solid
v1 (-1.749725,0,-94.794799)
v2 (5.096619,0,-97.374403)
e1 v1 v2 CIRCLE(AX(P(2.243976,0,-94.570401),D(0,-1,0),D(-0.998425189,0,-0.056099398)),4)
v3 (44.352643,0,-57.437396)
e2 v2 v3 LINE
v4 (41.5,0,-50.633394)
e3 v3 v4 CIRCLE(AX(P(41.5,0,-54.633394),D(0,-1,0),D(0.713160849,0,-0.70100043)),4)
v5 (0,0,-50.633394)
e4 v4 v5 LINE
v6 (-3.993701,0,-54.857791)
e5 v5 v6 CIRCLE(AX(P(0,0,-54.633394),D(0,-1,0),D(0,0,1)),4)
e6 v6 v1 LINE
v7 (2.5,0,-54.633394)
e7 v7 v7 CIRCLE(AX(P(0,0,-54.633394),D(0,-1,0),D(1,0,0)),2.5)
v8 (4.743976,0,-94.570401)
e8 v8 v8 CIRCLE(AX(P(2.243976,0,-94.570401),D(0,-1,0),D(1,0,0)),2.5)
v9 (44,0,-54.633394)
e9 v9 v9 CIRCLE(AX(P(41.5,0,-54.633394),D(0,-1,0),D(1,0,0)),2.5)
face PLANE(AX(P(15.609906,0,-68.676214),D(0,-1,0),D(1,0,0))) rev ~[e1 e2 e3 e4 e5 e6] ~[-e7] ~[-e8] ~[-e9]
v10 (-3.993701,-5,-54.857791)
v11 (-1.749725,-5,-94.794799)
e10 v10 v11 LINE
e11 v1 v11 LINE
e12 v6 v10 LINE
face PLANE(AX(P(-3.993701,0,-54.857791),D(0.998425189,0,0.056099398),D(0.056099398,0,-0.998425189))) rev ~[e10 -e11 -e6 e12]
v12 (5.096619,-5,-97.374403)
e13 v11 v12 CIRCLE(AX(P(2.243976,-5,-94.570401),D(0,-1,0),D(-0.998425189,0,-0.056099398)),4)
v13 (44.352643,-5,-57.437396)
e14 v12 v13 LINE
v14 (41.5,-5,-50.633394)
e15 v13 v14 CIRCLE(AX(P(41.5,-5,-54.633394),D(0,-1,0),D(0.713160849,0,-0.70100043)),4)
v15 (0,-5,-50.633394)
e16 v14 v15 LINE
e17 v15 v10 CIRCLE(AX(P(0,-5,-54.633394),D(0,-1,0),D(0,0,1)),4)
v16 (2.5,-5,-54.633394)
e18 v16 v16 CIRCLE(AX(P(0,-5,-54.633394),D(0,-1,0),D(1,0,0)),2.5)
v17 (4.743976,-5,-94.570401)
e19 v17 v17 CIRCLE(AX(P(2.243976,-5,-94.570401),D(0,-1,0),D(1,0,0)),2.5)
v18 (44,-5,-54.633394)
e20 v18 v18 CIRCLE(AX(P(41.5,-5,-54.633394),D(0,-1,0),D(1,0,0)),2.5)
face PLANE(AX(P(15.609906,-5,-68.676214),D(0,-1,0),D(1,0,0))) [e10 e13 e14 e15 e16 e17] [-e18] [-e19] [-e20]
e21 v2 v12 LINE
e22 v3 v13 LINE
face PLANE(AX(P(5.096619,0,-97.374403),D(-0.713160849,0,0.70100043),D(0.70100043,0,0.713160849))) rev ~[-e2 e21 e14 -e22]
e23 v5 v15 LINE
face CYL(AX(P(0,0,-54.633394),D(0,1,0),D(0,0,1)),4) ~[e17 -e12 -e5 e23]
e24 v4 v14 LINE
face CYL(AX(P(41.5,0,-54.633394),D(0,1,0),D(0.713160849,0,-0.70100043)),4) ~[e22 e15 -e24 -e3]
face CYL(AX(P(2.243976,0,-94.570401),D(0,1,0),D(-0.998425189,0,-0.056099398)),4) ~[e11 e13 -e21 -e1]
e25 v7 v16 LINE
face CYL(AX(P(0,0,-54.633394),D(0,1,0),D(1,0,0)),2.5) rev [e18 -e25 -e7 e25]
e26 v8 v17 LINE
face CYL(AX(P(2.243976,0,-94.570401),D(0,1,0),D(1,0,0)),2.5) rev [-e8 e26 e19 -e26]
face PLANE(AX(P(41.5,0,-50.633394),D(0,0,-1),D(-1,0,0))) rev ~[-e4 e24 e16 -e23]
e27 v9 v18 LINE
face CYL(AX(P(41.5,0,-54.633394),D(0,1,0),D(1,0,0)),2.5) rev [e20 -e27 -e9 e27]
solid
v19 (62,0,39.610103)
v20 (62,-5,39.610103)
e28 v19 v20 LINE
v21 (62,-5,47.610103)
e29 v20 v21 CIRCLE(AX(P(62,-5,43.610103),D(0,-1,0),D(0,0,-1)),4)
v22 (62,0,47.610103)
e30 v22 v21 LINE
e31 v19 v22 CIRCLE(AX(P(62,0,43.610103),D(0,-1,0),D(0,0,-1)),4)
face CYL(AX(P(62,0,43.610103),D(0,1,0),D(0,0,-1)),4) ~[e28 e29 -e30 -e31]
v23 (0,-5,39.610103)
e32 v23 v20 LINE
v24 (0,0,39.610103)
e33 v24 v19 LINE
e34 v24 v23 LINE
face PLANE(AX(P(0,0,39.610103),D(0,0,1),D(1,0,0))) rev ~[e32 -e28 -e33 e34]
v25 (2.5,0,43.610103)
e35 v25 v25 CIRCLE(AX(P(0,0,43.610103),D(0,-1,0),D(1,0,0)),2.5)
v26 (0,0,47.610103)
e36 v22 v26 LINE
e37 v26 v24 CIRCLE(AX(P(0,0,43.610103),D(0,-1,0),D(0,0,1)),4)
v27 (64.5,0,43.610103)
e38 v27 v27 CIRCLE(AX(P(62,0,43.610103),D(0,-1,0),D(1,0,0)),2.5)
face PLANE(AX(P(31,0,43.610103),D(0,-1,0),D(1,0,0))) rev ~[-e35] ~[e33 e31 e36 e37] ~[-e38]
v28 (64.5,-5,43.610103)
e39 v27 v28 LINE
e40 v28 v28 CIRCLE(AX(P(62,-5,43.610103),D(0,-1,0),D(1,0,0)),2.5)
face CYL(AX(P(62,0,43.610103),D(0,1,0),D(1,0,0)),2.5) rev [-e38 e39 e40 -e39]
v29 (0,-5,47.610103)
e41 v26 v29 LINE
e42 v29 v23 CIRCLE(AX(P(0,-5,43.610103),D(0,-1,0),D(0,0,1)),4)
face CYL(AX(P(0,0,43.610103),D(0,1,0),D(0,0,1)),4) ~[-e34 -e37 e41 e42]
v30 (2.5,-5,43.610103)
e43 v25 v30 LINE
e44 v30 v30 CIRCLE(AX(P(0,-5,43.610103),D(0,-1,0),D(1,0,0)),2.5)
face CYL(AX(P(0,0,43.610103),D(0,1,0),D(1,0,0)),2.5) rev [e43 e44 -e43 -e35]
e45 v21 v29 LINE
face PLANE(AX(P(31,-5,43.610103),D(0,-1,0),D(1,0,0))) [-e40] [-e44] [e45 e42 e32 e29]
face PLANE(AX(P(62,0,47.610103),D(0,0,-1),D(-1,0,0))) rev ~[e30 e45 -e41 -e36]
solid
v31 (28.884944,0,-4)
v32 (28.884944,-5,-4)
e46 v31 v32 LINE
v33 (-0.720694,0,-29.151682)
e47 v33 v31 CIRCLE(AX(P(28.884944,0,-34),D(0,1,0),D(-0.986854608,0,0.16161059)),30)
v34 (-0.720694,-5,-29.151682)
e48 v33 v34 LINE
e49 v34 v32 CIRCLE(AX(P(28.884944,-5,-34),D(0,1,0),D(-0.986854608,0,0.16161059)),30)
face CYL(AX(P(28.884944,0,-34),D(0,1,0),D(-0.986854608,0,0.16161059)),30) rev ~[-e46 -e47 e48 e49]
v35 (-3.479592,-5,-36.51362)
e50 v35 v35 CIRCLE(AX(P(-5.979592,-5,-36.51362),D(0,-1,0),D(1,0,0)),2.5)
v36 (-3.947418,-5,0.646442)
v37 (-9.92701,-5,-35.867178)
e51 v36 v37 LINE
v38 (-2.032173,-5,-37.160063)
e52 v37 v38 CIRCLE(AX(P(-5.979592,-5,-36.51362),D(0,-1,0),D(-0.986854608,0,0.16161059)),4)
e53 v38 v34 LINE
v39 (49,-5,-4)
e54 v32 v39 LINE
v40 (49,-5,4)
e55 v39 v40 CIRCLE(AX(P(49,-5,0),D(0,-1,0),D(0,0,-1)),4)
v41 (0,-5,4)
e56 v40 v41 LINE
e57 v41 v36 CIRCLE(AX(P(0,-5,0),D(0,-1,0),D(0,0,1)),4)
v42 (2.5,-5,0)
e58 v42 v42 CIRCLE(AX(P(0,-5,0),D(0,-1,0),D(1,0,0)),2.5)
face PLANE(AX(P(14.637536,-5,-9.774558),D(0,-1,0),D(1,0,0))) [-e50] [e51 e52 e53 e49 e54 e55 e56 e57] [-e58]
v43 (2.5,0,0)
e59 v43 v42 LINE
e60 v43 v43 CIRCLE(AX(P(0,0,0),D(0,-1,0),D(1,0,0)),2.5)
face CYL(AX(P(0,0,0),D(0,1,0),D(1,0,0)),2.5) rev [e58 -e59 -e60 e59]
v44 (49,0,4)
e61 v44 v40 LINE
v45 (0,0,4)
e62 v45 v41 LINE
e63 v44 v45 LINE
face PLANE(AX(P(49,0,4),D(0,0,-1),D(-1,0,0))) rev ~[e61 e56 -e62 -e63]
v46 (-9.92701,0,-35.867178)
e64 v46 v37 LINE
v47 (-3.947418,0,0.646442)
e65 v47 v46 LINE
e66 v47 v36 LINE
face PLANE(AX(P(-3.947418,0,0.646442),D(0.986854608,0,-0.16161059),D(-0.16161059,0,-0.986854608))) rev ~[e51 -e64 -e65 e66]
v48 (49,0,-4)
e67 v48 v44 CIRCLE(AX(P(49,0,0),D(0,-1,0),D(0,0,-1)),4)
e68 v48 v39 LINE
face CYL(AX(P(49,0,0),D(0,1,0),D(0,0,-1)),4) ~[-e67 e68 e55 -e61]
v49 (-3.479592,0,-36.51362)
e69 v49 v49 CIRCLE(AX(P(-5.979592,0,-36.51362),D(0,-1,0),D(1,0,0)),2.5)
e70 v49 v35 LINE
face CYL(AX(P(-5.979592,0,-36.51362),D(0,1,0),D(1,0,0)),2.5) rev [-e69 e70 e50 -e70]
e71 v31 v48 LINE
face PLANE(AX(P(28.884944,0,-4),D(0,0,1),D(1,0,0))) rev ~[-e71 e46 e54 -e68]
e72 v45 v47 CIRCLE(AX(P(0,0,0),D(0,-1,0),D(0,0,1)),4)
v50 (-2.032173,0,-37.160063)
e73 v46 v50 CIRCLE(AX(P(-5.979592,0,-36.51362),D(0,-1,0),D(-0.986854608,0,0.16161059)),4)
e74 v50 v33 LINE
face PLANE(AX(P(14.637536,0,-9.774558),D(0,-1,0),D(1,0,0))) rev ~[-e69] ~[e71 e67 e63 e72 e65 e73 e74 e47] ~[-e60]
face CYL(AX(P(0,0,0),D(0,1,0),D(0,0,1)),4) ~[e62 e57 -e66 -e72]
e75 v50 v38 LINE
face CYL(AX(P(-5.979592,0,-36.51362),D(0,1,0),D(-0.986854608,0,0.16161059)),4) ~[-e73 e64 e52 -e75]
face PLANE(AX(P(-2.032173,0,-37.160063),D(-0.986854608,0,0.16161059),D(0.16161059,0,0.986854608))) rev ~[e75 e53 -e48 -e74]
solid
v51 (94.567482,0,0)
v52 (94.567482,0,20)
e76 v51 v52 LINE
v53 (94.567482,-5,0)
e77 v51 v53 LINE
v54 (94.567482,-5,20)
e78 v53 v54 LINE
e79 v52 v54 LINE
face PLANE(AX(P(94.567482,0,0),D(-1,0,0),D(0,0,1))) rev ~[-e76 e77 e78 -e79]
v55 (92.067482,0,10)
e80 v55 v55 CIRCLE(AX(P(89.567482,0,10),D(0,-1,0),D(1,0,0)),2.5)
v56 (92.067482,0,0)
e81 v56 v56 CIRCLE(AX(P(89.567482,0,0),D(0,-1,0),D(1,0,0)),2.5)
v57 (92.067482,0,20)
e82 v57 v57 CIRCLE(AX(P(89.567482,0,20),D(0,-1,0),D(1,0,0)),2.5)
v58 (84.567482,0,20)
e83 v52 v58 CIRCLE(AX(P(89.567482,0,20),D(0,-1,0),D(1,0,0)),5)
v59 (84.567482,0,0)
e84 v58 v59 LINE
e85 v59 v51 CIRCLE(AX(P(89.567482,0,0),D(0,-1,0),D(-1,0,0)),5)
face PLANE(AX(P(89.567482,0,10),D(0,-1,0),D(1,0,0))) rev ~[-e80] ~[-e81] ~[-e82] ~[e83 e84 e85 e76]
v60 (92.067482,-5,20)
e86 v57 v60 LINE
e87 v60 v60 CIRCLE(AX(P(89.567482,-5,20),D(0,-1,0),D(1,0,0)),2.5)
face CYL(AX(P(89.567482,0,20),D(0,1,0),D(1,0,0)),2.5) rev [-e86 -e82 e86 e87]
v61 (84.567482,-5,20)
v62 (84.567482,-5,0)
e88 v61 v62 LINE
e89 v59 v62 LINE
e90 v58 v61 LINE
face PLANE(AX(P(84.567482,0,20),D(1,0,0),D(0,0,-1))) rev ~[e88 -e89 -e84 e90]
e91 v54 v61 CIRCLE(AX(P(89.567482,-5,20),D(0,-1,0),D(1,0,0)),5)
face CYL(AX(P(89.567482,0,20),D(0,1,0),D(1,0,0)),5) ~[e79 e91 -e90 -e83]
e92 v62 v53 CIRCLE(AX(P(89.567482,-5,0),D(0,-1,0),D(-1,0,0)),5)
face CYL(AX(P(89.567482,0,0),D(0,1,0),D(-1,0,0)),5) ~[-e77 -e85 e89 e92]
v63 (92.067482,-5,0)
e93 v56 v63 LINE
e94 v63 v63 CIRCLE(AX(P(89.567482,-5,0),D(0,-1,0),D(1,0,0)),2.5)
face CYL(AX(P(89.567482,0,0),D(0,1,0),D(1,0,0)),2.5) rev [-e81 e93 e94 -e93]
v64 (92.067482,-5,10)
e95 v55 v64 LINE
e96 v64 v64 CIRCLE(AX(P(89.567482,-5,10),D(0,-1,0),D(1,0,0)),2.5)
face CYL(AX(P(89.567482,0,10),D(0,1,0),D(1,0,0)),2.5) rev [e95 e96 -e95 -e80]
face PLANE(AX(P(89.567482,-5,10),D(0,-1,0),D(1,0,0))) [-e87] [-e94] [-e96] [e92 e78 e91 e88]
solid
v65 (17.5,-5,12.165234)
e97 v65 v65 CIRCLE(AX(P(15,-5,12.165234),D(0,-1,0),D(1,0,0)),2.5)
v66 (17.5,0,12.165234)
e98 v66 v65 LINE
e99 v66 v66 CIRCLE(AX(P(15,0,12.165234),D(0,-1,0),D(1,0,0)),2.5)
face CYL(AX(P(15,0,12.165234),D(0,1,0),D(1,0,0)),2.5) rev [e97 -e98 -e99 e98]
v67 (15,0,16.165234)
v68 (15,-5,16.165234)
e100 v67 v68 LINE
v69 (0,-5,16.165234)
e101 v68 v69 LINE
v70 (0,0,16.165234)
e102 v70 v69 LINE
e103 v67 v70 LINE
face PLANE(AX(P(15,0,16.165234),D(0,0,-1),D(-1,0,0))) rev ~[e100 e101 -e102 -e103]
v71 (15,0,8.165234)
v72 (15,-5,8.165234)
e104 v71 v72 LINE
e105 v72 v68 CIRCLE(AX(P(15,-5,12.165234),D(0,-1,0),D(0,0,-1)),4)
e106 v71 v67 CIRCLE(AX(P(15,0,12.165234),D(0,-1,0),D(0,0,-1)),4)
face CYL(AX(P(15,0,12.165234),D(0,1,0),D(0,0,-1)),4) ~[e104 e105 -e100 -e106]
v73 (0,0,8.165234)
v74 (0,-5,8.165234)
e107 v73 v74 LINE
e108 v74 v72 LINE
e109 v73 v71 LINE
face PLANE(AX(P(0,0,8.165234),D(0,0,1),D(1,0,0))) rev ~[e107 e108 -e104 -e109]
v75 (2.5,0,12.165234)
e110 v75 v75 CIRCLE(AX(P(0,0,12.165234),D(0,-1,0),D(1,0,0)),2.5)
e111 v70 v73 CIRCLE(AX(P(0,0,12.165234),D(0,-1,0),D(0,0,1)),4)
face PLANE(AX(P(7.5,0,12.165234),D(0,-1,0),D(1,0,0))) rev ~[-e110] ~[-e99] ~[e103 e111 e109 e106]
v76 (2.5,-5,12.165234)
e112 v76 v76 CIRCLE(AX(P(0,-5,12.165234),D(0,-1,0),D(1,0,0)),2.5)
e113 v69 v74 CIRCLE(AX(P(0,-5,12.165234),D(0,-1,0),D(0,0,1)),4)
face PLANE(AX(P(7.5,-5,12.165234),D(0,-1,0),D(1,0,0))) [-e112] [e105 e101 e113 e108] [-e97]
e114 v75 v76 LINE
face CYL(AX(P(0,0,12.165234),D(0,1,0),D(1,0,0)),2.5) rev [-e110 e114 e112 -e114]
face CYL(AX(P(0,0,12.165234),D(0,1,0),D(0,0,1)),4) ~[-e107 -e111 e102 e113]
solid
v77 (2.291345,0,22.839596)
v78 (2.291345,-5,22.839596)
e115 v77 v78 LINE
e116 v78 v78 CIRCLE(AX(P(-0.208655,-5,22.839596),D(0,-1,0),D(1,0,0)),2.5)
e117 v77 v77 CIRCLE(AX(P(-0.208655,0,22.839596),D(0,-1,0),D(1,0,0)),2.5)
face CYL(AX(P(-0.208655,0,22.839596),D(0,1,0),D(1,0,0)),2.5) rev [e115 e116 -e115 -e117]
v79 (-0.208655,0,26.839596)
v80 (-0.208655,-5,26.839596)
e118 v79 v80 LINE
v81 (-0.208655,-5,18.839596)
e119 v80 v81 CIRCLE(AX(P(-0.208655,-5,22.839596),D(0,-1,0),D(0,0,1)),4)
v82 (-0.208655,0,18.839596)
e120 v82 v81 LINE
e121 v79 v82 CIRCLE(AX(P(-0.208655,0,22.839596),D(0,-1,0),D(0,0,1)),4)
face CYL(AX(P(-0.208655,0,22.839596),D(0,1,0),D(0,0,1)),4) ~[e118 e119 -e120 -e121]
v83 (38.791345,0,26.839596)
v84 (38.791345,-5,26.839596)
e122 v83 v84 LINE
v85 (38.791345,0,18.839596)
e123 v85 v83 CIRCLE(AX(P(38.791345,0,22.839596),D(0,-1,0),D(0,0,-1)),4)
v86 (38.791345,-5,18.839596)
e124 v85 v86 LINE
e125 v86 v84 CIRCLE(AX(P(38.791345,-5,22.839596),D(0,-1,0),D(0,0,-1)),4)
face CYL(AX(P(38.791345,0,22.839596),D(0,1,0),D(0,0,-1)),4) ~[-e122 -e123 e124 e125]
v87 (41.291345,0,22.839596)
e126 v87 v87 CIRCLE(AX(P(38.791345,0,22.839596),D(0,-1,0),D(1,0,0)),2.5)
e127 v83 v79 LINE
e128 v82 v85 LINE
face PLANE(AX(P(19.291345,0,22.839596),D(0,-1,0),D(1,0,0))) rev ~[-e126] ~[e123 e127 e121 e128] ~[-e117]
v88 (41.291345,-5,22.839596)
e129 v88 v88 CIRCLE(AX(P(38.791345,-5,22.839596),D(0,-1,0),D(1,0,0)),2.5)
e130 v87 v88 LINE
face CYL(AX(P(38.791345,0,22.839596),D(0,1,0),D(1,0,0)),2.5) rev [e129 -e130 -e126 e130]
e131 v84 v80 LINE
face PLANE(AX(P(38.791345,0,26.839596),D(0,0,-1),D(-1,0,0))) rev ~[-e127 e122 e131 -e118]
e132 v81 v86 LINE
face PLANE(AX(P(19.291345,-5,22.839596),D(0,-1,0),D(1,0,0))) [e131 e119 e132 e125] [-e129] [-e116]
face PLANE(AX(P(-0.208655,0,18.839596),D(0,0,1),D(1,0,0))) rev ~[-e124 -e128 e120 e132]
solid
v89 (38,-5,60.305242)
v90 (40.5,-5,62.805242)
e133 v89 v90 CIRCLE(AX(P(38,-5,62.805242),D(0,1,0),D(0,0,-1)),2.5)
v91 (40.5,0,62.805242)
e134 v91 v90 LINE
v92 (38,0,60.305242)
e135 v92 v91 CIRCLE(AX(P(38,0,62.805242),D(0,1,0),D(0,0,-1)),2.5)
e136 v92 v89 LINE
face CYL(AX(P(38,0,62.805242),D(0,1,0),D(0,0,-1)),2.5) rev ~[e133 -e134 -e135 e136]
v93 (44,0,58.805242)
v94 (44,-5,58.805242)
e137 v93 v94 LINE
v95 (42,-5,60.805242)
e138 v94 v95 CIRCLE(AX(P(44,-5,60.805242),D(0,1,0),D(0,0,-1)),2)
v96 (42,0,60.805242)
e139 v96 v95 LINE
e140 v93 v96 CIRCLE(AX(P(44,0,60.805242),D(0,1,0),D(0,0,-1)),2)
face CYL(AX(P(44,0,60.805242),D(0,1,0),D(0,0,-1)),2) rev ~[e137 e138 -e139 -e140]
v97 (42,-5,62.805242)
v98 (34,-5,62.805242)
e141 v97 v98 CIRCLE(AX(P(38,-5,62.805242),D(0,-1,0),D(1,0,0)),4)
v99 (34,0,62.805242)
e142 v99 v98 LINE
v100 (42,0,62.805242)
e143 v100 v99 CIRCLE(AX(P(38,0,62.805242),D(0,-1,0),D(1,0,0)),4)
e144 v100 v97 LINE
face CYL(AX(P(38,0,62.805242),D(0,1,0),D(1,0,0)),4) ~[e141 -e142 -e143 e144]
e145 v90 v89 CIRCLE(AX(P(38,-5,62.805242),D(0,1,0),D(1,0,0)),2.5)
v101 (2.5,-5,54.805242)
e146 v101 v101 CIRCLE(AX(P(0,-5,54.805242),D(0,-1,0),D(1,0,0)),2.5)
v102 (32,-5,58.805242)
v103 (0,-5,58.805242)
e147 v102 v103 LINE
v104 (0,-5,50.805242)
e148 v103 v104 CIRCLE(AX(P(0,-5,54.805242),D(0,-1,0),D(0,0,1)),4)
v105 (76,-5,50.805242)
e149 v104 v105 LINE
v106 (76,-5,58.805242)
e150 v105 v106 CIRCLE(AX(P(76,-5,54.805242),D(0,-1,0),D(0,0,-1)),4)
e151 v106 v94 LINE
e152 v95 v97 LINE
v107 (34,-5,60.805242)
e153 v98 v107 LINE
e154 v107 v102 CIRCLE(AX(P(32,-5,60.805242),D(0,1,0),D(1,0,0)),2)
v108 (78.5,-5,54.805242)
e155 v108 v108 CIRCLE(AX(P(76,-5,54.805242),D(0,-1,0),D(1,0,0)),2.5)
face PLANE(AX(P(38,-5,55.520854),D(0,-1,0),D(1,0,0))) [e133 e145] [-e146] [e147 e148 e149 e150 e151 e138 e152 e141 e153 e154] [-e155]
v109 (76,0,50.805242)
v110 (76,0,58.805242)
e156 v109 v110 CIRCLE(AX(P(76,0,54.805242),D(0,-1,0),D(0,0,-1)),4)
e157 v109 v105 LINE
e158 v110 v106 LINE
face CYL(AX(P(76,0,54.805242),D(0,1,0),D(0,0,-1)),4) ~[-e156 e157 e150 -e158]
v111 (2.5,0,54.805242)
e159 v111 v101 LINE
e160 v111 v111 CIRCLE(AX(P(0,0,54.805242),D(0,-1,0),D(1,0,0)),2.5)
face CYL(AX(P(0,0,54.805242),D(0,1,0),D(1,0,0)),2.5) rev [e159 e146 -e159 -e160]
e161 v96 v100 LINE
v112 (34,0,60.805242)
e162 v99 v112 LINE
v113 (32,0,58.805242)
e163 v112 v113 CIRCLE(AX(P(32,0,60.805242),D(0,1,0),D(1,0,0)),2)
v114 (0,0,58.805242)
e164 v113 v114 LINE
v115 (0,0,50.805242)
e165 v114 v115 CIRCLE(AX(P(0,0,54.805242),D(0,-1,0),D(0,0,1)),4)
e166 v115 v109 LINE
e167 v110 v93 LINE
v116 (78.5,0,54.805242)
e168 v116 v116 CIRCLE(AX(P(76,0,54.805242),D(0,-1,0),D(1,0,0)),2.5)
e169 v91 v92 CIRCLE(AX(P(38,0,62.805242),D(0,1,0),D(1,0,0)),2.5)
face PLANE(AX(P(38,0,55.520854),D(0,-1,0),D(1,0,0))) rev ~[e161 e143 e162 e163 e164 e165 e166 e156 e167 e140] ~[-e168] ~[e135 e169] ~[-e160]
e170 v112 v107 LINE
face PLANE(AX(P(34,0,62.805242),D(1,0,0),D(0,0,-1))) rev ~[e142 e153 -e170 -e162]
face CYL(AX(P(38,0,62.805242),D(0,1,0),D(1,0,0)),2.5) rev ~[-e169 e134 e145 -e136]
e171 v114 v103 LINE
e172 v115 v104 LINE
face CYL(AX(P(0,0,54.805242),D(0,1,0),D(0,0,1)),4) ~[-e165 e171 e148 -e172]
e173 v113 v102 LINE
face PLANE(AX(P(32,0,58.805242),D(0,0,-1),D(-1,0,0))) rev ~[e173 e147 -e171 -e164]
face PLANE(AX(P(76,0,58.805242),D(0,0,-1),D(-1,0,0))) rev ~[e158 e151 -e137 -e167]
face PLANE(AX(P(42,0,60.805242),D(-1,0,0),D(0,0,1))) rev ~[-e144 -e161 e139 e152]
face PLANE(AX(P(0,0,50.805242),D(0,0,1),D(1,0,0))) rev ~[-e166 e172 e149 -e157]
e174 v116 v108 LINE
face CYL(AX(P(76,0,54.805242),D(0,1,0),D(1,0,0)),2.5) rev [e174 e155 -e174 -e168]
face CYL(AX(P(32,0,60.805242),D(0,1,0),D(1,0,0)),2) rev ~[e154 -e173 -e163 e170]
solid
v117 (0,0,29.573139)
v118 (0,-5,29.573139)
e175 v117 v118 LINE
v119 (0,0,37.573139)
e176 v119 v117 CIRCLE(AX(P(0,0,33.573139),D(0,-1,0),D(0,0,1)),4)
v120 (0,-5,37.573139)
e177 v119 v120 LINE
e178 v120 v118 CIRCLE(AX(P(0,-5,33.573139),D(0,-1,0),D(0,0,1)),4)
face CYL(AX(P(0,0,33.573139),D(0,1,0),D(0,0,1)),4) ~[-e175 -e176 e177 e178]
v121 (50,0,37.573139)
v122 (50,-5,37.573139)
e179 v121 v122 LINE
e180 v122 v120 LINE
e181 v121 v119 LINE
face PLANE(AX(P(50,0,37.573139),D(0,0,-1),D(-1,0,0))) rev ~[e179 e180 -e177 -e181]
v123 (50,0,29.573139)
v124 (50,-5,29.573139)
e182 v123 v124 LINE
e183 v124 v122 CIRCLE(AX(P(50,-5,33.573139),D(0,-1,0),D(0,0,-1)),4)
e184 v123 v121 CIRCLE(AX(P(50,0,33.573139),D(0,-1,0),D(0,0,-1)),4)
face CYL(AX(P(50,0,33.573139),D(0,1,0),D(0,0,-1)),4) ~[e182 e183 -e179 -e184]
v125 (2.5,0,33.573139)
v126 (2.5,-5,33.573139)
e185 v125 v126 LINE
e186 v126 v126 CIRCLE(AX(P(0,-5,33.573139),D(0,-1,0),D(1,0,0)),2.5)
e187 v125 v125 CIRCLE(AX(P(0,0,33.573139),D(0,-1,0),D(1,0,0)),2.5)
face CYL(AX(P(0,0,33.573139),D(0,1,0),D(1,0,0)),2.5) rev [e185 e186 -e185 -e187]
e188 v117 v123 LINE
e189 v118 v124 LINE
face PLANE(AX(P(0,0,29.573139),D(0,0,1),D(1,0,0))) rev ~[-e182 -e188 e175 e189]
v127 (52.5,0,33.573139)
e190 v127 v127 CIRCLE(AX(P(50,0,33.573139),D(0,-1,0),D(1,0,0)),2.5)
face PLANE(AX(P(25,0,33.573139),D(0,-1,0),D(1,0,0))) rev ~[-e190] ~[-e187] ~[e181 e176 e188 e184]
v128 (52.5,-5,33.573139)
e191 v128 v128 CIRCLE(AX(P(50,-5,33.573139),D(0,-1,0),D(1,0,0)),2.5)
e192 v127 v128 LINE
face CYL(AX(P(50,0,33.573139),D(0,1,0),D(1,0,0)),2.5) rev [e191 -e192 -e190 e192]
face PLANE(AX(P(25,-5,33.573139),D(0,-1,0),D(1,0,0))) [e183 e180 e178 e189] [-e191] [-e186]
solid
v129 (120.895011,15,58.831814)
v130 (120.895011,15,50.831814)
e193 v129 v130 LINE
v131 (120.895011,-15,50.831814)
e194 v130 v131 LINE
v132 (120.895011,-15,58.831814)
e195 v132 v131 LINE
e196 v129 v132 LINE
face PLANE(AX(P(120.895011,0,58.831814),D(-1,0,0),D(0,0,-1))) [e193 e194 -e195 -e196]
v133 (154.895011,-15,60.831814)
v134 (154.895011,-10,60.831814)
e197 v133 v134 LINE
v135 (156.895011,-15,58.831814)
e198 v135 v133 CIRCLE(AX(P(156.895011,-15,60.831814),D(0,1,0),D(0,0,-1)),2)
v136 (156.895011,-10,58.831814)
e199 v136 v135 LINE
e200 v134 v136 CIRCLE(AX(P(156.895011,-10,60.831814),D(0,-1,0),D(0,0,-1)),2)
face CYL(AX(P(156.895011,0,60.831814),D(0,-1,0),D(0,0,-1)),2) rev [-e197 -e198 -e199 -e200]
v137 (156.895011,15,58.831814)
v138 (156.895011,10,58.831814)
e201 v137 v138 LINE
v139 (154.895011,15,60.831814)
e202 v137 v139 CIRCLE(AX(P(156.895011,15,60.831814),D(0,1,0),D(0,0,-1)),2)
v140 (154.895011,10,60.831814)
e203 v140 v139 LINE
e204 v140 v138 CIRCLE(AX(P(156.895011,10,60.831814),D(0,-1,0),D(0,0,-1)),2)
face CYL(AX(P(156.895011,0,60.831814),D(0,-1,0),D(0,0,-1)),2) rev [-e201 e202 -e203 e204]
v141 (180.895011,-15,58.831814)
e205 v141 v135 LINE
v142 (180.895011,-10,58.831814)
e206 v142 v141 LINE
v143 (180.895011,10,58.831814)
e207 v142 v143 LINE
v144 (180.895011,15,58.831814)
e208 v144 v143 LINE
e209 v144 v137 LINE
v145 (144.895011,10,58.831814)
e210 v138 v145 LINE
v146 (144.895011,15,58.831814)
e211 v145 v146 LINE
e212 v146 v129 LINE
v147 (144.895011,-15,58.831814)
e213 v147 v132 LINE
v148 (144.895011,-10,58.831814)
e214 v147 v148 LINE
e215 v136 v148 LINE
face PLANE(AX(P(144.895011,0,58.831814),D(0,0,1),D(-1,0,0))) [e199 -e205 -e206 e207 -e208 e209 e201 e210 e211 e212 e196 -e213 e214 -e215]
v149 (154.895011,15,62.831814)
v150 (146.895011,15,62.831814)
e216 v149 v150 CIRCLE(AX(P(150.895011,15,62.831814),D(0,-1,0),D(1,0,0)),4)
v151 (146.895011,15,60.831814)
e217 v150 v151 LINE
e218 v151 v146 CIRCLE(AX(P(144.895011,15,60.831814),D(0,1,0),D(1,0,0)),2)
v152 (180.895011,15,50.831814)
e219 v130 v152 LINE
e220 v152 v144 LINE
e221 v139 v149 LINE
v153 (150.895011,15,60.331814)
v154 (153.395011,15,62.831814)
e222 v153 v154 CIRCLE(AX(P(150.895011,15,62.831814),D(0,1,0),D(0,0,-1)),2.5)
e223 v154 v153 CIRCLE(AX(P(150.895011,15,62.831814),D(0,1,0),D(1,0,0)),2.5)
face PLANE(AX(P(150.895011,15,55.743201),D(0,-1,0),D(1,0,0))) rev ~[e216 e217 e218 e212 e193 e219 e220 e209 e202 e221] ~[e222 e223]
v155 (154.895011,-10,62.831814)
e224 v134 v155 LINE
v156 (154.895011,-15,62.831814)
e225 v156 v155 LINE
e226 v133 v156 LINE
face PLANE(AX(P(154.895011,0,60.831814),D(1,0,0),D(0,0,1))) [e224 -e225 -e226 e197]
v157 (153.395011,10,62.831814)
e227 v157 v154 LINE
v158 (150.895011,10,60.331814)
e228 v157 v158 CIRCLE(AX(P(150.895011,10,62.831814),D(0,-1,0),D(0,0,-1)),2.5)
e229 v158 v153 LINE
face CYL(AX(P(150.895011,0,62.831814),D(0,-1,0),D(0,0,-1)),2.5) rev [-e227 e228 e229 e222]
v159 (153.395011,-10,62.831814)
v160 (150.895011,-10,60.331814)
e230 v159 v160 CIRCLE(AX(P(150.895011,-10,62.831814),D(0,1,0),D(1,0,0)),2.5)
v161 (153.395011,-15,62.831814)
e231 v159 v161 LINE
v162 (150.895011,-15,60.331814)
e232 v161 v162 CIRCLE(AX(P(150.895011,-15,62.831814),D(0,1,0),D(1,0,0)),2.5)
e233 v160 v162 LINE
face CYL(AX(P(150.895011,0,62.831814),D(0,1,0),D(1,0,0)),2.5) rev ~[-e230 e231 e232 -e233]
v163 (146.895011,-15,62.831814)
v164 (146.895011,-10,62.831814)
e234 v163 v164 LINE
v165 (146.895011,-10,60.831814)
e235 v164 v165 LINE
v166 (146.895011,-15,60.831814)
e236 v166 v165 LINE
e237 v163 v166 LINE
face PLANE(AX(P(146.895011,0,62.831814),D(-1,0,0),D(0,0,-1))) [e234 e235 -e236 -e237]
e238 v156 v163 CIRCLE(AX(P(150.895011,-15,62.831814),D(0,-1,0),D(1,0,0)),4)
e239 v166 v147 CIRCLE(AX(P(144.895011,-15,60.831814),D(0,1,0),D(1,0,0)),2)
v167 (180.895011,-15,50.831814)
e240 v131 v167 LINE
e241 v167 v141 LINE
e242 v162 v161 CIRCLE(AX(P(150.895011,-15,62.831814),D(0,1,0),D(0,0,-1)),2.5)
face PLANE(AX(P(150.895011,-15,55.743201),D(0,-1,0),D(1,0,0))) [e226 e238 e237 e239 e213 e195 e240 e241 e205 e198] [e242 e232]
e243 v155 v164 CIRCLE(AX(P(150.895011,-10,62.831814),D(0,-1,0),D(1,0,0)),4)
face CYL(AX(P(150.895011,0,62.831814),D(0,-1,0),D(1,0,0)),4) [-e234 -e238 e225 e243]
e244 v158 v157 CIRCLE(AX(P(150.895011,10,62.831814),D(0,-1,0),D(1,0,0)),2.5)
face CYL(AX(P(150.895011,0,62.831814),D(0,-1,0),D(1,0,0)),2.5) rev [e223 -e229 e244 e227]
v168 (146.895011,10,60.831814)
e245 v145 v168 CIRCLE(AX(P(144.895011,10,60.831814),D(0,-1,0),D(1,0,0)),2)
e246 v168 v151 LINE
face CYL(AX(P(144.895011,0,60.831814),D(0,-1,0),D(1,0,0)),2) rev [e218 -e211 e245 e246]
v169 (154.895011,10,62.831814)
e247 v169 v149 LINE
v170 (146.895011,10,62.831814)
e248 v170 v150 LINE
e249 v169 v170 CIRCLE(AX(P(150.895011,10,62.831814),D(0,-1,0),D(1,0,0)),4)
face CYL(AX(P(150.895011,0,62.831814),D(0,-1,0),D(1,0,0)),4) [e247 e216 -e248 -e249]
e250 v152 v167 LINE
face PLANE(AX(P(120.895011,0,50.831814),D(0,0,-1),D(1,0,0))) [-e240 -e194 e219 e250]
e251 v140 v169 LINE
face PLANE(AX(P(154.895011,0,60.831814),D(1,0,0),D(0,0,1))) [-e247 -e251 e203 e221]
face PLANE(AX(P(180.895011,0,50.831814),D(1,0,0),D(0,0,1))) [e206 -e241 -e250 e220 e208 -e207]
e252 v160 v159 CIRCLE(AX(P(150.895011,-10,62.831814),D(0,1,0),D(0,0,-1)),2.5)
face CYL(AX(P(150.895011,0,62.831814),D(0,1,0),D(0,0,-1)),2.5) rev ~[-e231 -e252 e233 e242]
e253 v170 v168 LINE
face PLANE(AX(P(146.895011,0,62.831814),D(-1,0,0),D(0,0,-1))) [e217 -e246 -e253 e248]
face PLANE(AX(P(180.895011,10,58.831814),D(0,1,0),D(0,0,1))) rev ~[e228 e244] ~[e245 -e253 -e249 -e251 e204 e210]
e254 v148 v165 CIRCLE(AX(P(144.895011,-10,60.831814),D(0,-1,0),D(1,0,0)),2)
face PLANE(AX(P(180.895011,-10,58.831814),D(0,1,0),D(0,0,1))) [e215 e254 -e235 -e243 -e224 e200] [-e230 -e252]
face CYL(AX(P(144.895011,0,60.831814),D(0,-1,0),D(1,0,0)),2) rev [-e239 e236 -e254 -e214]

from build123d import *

# Parameters (mm, degrees)
F0_R      = 2.5
F1_DEPTH  = 5
F2_R      = 2.5
F3_DEPTH  = 5
F4_R      = 2.5
F5_DEPTH  = 5
F6_R      = 2.5
F7_DEPTH  = 5
F8_R      = 2.5
F9_DEPTH  = 5
F10_R     = 2.5
F11_DEPTH = 5
F12_R     = 2.5
F13_DEPTH = 5
F14_R     = 2.5
F15_DEPTH = 5
F17_DEPTH = 15
F18_W     = 20
F18_H     = 17.6143067669
F19_DEPTH = 190.8756025167


with BuildPart() as f1:
    # F0 (on Front) → F1 (new body)
    with BuildSketch(Plane.XZ):
        with BuildLine():
            Line((49, 4), (0, 4))
            ThreePointArc((0, 4), (-2.5898098924, 3.0484233173), (-3.9474184316, 0.6464423607))
            Line((-3.9474184316, 0.6464423607), (-9.9270102684, -35.8671781317))
            ThreePointArc((-9.9270102684, -35.8671781317), (-6.6260341975, -40.4610389241), (-2.0321734051, -37.1600628532))
            Line((-2.0321734051, -37.1600628532), (-0.7206943908, -29.1516822945))
            ThreePointArc((-0.7206943908, -29.1516822945), (9.4613696537, -11.1368251203), (28.8849438463, -4))
            Line((28.8849438463, -4), (49, -4))
            ThreePointArc((49, -4), (53, 0), (49, 4))
        make_face()
        with Locations((-5.9795918367, -36.5136204924)):
            Circle(F0_R, mode=Mode.SUBTRACT)
        Circle(F0_R, mode=Mode.SUBTRACT)
    extrude(amount=F1_DEPTH)


with BuildPart() as f3:
    # F2 (on Front) → F3 (new body)
    with BuildSketch(Plane.XZ):
        with BuildLine():
            Line((15, 16.1652341568), (0, 16.1652341568))
            ThreePointArc((0, 16.1652341568), (-4, 12.1652341568), (0, 8.1652341568))
            Line((0, 8.1652341568), (15, 8.1652341568))
            ThreePointArc((15, 8.1652341568), (19, 12.1652341568), (15, 16.1652341568))
        make_face()
        with Locations((0, 12.1652341568)):
            Circle(F2_R, mode=Mode.SUBTRACT)
        with Locations((15, 12.1652341568)):
            Circle(F2_R, mode=Mode.SUBTRACT)
    extrude(amount=F3_DEPTH)


with BuildPart() as f5:
    # F4 (on Front) → F5 (new body)
    with BuildSketch(Plane.XZ):
        with BuildLine():
            Line((38.7913448384, 26.839596495), (-0.2086551616, 26.839596495))
            ThreePointArc((-0.2086551616, 26.839596495), (-4.2086551616, 22.839596495), (-0.2086551616, 18.839596495))
            Line((-0.2086551616, 18.839596495), (38.7913448384, 18.839596495))
            ThreePointArc((38.7913448384, 18.839596495), (42.7913448384, 22.839596495), (38.7913448384, 26.839596495))
        make_face()
        with Locations((-0.2086551616, 22.839596495)):
            Circle(F4_R, mode=Mode.SUBTRACT)
        with Locations((38.7913448384, 22.839596495)):
            Circle(F4_R, mode=Mode.SUBTRACT)
    extrude(amount=F5_DEPTH)


with BuildPart() as f7:
    # F6 (on Front) → F7 (new body)
    with BuildSketch(Plane.XZ):
        with BuildLine():
            Line((50, 37.5731394589), (0, 37.5731394589))
            ThreePointArc((0, 37.5731394589), (-4, 33.5731394589), (0, 29.5731394589))
            Line((0, 29.5731394589), (50, 29.5731394589))
            ThreePointArc((50, 29.5731394589), (54, 33.5731394589), (50, 37.5731394589))
        make_face()
        with Locations((0, 33.5731394589)):
            Circle(F6_R, mode=Mode.SUBTRACT)
        with Locations((50, 33.5731394589)):
            Circle(F6_R, mode=Mode.SUBTRACT)
    extrude(amount=F7_DEPTH)


with BuildPart() as f9:
    # F8 (on Front) → F9 (new body)
    with BuildSketch(Plane.XZ):
        with BuildLine():
            Line((62, 47.6101034284), (0, 47.6101034284))
            ThreePointArc((0, 47.6101034284), (-4, 43.6101034284), (0, 39.6101034284))
            Line((0, 39.6101034284), (62, 39.6101034284))
            ThreePointArc((62, 39.6101034284), (66, 43.6101034284), (62, 47.6101034284))
        make_face()
        with Locations((0, 43.6101034284)):
            Circle(F8_R, mode=Mode.SUBTRACT)
        with Locations((62, 43.6101034284)):
            Circle(F8_R, mode=Mode.SUBTRACT)
    extrude(amount=F9_DEPTH)


with BuildPart() as f11:
    # F10 (on Front) → F11 (new body)
    with BuildSketch(Plane.XZ):
        with BuildLine():
            Line((32, 58.8052415252), (0, 58.8052415252))
            ThreePointArc((0, 58.8052415252), (-4, 54.8052415252), (0, 50.8052415252))
            Line((0, 50.8052415252), (38, 50.8052415252))
            Line((38, 50.8052415252), (76, 50.8052415252))
            ThreePointArc((76, 50.8052415252), (80, 54.8052415252), (76, 58.8052415252))
            Line((76, 58.8052415252), (44, 58.8052415252))
            ThreePointArc((44, 58.8052415252), (42.5857864376, 59.3910279628), (42, 60.8052415252))
            Line((42, 60.8052415252), (42, 62.8052415252))
            ThreePointArc((42, 62.8052415252), (38, 66.8052415252), (34, 62.8052415252))
            Line((34, 62.8052415252), (34, 60.8052415252))
            ThreePointArc((34, 60.8052415252), (33.4142135624, 59.3910279628), (32, 58.8052415252))
        make_face()
        with Locations((0, 54.8052415252)):
            Circle(F10_R, mode=Mode.SUBTRACT)
        with Locations((76, 54.8052415252)):
            Circle(F10_R, mode=Mode.SUBTRACT)
        with BuildLine():
            ThreePointArc((38, 60.3052415252), (36.232233047, 64.5730084781), (40.5, 62.8052415252))
            ThreePointArc((40.5, 62.8052415252), (39.767766953, 61.0374745722), (38, 60.3052415252))
        make_face(mode=Mode.SUBTRACT)
    extrude(amount=F11_DEPTH)


with BuildPart() as f13:
    # F12 (on Front) → F13 (new body)
    with BuildSketch(Plane.XZ):
        with BuildLine():
            Line((41.5, -50.6333938837), (0, -50.6333938837))
            ThreePointArc((0, -50.6333938837), (-2.9066811281, -51.8854483203), (-3.9937007551, -54.8577914741))
            Line((-3.9937007551, -54.8577914741), (-1.7497248515, -94.7947990253))
            ThreePointArc((-1.7497248515, -94.7947990253), (0.8336240532, -98.313516135), (5.0966193001, -97.3744031561))
            Line((5.0966193001, -97.3744031561), (44.3526433965, -57.4373956049))
            ThreePointArc((44.3526433965, -57.4373956049), (45.1889027423, -53.0867858022), (41.5, -50.6333938837))
        make_face()
        with Locations((2.2439759036, -94.5704014349)):
            Circle(F12_R, mode=Mode.SUBTRACT)
        with Locations((0, -54.6333938837)):
            Circle(F12_R, mode=Mode.SUBTRACT)
        with Locations((41.5, -54.6333938837)):
            Circle(F12_R, mode=Mode.SUBTRACT)
    extrude(amount=F13_DEPTH)


with BuildPart() as f15:
    # F14 (on Front) → F15 (new body)
    with BuildSketch(Plane.XZ):
        with BuildLine():
            Line((94.5674824715, 0), (94.5674824715, 20))
            ThreePointArc((94.5674824715, 20), (89.5674824715, 25), (84.5674824715, 20))
            Line((84.5674824715, 20), (84.5674824715, 0))
            ThreePointArc((84.5674824715, 0), (89.5674824715, -5), (94.5674824715, 0))
        make_face()
        with Locations((89.5674824715, 0)):
            Circle(F14_R, mode=Mode.SUBTRACT)
        with Locations((89.5674824715, 10)):
            Circle(F14_R, mode=Mode.SUBTRACT)
        with Locations((89.5674824715, 20)):
            Circle(F14_R, mode=Mode.SUBTRACT)
    extrude(amount=F15_DEPTH)


with BuildPart() as f17:
    # F16 (on Front) → F17 (new body, symmetric)
    with BuildSketch(Plane.XZ):
        with BuildLine():
            Line((144.89501068, 58.8318139259), (120.89501068, 58.8318139259))
            Line((120.89501068, 58.8318139259), (120.89501068, 50.8318139259))
            Line((120.89501068, 50.8318139259), (180.89501068, 50.8318139259))
            Line((180.89501068, 50.8318139259), (180.89501068, 58.8318139259))
            Line((180.89501068, 58.8318139259), (156.89501068, 58.8318139259))
            ThreePointArc((156.89501068, 58.8318139259), (155.4807971176, 59.4176003635), (154.89501068, 60.8318139259))
            Line((154.89501068, 60.8318139259), (154.89501068, 62.8318139259))
            ThreePointArc((154.89501068, 62.8318139259), (150.89501068, 66.8318139259), (146.89501068, 62.8318139259))
            Line((146.89501068, 62.8318139259), (146.89501068, 60.8318139259))
            ThreePointArc((146.89501068, 60.8318139259), (146.3092242423, 59.4176003635), (144.89501068, 58.8318139259))
        make_face()
        with BuildLine():
            ThreePointArc((150.89501068, 60.3318139259), (149.127243727, 64.5995808788), (153.39501068, 62.8318139259))
            ThreePointArc((153.39501068, 62.8318139259), (152.6627776329, 61.0640469729), (150.89501068, 60.3318139259))
        make_face(mode=Mode.SUBTRACT)
    extrude(amount=F17_DEPTH, both=True)

    # F18 (on face) → F19 (cut, through all)
    with BuildSketch(Plane.YZ.offset(180.89501068)):
        with Locations((0, 67.6389673093)):
            Rectangle(F18_W, F18_H)
    extrude(amount=-F19_DEPTH, mode=Mode.SUBTRACT)


solid = Compound([f1.part, f3.part, f5.part, f7.part, f9.part, f11.part, f13.part, f15.part, f17.part])
